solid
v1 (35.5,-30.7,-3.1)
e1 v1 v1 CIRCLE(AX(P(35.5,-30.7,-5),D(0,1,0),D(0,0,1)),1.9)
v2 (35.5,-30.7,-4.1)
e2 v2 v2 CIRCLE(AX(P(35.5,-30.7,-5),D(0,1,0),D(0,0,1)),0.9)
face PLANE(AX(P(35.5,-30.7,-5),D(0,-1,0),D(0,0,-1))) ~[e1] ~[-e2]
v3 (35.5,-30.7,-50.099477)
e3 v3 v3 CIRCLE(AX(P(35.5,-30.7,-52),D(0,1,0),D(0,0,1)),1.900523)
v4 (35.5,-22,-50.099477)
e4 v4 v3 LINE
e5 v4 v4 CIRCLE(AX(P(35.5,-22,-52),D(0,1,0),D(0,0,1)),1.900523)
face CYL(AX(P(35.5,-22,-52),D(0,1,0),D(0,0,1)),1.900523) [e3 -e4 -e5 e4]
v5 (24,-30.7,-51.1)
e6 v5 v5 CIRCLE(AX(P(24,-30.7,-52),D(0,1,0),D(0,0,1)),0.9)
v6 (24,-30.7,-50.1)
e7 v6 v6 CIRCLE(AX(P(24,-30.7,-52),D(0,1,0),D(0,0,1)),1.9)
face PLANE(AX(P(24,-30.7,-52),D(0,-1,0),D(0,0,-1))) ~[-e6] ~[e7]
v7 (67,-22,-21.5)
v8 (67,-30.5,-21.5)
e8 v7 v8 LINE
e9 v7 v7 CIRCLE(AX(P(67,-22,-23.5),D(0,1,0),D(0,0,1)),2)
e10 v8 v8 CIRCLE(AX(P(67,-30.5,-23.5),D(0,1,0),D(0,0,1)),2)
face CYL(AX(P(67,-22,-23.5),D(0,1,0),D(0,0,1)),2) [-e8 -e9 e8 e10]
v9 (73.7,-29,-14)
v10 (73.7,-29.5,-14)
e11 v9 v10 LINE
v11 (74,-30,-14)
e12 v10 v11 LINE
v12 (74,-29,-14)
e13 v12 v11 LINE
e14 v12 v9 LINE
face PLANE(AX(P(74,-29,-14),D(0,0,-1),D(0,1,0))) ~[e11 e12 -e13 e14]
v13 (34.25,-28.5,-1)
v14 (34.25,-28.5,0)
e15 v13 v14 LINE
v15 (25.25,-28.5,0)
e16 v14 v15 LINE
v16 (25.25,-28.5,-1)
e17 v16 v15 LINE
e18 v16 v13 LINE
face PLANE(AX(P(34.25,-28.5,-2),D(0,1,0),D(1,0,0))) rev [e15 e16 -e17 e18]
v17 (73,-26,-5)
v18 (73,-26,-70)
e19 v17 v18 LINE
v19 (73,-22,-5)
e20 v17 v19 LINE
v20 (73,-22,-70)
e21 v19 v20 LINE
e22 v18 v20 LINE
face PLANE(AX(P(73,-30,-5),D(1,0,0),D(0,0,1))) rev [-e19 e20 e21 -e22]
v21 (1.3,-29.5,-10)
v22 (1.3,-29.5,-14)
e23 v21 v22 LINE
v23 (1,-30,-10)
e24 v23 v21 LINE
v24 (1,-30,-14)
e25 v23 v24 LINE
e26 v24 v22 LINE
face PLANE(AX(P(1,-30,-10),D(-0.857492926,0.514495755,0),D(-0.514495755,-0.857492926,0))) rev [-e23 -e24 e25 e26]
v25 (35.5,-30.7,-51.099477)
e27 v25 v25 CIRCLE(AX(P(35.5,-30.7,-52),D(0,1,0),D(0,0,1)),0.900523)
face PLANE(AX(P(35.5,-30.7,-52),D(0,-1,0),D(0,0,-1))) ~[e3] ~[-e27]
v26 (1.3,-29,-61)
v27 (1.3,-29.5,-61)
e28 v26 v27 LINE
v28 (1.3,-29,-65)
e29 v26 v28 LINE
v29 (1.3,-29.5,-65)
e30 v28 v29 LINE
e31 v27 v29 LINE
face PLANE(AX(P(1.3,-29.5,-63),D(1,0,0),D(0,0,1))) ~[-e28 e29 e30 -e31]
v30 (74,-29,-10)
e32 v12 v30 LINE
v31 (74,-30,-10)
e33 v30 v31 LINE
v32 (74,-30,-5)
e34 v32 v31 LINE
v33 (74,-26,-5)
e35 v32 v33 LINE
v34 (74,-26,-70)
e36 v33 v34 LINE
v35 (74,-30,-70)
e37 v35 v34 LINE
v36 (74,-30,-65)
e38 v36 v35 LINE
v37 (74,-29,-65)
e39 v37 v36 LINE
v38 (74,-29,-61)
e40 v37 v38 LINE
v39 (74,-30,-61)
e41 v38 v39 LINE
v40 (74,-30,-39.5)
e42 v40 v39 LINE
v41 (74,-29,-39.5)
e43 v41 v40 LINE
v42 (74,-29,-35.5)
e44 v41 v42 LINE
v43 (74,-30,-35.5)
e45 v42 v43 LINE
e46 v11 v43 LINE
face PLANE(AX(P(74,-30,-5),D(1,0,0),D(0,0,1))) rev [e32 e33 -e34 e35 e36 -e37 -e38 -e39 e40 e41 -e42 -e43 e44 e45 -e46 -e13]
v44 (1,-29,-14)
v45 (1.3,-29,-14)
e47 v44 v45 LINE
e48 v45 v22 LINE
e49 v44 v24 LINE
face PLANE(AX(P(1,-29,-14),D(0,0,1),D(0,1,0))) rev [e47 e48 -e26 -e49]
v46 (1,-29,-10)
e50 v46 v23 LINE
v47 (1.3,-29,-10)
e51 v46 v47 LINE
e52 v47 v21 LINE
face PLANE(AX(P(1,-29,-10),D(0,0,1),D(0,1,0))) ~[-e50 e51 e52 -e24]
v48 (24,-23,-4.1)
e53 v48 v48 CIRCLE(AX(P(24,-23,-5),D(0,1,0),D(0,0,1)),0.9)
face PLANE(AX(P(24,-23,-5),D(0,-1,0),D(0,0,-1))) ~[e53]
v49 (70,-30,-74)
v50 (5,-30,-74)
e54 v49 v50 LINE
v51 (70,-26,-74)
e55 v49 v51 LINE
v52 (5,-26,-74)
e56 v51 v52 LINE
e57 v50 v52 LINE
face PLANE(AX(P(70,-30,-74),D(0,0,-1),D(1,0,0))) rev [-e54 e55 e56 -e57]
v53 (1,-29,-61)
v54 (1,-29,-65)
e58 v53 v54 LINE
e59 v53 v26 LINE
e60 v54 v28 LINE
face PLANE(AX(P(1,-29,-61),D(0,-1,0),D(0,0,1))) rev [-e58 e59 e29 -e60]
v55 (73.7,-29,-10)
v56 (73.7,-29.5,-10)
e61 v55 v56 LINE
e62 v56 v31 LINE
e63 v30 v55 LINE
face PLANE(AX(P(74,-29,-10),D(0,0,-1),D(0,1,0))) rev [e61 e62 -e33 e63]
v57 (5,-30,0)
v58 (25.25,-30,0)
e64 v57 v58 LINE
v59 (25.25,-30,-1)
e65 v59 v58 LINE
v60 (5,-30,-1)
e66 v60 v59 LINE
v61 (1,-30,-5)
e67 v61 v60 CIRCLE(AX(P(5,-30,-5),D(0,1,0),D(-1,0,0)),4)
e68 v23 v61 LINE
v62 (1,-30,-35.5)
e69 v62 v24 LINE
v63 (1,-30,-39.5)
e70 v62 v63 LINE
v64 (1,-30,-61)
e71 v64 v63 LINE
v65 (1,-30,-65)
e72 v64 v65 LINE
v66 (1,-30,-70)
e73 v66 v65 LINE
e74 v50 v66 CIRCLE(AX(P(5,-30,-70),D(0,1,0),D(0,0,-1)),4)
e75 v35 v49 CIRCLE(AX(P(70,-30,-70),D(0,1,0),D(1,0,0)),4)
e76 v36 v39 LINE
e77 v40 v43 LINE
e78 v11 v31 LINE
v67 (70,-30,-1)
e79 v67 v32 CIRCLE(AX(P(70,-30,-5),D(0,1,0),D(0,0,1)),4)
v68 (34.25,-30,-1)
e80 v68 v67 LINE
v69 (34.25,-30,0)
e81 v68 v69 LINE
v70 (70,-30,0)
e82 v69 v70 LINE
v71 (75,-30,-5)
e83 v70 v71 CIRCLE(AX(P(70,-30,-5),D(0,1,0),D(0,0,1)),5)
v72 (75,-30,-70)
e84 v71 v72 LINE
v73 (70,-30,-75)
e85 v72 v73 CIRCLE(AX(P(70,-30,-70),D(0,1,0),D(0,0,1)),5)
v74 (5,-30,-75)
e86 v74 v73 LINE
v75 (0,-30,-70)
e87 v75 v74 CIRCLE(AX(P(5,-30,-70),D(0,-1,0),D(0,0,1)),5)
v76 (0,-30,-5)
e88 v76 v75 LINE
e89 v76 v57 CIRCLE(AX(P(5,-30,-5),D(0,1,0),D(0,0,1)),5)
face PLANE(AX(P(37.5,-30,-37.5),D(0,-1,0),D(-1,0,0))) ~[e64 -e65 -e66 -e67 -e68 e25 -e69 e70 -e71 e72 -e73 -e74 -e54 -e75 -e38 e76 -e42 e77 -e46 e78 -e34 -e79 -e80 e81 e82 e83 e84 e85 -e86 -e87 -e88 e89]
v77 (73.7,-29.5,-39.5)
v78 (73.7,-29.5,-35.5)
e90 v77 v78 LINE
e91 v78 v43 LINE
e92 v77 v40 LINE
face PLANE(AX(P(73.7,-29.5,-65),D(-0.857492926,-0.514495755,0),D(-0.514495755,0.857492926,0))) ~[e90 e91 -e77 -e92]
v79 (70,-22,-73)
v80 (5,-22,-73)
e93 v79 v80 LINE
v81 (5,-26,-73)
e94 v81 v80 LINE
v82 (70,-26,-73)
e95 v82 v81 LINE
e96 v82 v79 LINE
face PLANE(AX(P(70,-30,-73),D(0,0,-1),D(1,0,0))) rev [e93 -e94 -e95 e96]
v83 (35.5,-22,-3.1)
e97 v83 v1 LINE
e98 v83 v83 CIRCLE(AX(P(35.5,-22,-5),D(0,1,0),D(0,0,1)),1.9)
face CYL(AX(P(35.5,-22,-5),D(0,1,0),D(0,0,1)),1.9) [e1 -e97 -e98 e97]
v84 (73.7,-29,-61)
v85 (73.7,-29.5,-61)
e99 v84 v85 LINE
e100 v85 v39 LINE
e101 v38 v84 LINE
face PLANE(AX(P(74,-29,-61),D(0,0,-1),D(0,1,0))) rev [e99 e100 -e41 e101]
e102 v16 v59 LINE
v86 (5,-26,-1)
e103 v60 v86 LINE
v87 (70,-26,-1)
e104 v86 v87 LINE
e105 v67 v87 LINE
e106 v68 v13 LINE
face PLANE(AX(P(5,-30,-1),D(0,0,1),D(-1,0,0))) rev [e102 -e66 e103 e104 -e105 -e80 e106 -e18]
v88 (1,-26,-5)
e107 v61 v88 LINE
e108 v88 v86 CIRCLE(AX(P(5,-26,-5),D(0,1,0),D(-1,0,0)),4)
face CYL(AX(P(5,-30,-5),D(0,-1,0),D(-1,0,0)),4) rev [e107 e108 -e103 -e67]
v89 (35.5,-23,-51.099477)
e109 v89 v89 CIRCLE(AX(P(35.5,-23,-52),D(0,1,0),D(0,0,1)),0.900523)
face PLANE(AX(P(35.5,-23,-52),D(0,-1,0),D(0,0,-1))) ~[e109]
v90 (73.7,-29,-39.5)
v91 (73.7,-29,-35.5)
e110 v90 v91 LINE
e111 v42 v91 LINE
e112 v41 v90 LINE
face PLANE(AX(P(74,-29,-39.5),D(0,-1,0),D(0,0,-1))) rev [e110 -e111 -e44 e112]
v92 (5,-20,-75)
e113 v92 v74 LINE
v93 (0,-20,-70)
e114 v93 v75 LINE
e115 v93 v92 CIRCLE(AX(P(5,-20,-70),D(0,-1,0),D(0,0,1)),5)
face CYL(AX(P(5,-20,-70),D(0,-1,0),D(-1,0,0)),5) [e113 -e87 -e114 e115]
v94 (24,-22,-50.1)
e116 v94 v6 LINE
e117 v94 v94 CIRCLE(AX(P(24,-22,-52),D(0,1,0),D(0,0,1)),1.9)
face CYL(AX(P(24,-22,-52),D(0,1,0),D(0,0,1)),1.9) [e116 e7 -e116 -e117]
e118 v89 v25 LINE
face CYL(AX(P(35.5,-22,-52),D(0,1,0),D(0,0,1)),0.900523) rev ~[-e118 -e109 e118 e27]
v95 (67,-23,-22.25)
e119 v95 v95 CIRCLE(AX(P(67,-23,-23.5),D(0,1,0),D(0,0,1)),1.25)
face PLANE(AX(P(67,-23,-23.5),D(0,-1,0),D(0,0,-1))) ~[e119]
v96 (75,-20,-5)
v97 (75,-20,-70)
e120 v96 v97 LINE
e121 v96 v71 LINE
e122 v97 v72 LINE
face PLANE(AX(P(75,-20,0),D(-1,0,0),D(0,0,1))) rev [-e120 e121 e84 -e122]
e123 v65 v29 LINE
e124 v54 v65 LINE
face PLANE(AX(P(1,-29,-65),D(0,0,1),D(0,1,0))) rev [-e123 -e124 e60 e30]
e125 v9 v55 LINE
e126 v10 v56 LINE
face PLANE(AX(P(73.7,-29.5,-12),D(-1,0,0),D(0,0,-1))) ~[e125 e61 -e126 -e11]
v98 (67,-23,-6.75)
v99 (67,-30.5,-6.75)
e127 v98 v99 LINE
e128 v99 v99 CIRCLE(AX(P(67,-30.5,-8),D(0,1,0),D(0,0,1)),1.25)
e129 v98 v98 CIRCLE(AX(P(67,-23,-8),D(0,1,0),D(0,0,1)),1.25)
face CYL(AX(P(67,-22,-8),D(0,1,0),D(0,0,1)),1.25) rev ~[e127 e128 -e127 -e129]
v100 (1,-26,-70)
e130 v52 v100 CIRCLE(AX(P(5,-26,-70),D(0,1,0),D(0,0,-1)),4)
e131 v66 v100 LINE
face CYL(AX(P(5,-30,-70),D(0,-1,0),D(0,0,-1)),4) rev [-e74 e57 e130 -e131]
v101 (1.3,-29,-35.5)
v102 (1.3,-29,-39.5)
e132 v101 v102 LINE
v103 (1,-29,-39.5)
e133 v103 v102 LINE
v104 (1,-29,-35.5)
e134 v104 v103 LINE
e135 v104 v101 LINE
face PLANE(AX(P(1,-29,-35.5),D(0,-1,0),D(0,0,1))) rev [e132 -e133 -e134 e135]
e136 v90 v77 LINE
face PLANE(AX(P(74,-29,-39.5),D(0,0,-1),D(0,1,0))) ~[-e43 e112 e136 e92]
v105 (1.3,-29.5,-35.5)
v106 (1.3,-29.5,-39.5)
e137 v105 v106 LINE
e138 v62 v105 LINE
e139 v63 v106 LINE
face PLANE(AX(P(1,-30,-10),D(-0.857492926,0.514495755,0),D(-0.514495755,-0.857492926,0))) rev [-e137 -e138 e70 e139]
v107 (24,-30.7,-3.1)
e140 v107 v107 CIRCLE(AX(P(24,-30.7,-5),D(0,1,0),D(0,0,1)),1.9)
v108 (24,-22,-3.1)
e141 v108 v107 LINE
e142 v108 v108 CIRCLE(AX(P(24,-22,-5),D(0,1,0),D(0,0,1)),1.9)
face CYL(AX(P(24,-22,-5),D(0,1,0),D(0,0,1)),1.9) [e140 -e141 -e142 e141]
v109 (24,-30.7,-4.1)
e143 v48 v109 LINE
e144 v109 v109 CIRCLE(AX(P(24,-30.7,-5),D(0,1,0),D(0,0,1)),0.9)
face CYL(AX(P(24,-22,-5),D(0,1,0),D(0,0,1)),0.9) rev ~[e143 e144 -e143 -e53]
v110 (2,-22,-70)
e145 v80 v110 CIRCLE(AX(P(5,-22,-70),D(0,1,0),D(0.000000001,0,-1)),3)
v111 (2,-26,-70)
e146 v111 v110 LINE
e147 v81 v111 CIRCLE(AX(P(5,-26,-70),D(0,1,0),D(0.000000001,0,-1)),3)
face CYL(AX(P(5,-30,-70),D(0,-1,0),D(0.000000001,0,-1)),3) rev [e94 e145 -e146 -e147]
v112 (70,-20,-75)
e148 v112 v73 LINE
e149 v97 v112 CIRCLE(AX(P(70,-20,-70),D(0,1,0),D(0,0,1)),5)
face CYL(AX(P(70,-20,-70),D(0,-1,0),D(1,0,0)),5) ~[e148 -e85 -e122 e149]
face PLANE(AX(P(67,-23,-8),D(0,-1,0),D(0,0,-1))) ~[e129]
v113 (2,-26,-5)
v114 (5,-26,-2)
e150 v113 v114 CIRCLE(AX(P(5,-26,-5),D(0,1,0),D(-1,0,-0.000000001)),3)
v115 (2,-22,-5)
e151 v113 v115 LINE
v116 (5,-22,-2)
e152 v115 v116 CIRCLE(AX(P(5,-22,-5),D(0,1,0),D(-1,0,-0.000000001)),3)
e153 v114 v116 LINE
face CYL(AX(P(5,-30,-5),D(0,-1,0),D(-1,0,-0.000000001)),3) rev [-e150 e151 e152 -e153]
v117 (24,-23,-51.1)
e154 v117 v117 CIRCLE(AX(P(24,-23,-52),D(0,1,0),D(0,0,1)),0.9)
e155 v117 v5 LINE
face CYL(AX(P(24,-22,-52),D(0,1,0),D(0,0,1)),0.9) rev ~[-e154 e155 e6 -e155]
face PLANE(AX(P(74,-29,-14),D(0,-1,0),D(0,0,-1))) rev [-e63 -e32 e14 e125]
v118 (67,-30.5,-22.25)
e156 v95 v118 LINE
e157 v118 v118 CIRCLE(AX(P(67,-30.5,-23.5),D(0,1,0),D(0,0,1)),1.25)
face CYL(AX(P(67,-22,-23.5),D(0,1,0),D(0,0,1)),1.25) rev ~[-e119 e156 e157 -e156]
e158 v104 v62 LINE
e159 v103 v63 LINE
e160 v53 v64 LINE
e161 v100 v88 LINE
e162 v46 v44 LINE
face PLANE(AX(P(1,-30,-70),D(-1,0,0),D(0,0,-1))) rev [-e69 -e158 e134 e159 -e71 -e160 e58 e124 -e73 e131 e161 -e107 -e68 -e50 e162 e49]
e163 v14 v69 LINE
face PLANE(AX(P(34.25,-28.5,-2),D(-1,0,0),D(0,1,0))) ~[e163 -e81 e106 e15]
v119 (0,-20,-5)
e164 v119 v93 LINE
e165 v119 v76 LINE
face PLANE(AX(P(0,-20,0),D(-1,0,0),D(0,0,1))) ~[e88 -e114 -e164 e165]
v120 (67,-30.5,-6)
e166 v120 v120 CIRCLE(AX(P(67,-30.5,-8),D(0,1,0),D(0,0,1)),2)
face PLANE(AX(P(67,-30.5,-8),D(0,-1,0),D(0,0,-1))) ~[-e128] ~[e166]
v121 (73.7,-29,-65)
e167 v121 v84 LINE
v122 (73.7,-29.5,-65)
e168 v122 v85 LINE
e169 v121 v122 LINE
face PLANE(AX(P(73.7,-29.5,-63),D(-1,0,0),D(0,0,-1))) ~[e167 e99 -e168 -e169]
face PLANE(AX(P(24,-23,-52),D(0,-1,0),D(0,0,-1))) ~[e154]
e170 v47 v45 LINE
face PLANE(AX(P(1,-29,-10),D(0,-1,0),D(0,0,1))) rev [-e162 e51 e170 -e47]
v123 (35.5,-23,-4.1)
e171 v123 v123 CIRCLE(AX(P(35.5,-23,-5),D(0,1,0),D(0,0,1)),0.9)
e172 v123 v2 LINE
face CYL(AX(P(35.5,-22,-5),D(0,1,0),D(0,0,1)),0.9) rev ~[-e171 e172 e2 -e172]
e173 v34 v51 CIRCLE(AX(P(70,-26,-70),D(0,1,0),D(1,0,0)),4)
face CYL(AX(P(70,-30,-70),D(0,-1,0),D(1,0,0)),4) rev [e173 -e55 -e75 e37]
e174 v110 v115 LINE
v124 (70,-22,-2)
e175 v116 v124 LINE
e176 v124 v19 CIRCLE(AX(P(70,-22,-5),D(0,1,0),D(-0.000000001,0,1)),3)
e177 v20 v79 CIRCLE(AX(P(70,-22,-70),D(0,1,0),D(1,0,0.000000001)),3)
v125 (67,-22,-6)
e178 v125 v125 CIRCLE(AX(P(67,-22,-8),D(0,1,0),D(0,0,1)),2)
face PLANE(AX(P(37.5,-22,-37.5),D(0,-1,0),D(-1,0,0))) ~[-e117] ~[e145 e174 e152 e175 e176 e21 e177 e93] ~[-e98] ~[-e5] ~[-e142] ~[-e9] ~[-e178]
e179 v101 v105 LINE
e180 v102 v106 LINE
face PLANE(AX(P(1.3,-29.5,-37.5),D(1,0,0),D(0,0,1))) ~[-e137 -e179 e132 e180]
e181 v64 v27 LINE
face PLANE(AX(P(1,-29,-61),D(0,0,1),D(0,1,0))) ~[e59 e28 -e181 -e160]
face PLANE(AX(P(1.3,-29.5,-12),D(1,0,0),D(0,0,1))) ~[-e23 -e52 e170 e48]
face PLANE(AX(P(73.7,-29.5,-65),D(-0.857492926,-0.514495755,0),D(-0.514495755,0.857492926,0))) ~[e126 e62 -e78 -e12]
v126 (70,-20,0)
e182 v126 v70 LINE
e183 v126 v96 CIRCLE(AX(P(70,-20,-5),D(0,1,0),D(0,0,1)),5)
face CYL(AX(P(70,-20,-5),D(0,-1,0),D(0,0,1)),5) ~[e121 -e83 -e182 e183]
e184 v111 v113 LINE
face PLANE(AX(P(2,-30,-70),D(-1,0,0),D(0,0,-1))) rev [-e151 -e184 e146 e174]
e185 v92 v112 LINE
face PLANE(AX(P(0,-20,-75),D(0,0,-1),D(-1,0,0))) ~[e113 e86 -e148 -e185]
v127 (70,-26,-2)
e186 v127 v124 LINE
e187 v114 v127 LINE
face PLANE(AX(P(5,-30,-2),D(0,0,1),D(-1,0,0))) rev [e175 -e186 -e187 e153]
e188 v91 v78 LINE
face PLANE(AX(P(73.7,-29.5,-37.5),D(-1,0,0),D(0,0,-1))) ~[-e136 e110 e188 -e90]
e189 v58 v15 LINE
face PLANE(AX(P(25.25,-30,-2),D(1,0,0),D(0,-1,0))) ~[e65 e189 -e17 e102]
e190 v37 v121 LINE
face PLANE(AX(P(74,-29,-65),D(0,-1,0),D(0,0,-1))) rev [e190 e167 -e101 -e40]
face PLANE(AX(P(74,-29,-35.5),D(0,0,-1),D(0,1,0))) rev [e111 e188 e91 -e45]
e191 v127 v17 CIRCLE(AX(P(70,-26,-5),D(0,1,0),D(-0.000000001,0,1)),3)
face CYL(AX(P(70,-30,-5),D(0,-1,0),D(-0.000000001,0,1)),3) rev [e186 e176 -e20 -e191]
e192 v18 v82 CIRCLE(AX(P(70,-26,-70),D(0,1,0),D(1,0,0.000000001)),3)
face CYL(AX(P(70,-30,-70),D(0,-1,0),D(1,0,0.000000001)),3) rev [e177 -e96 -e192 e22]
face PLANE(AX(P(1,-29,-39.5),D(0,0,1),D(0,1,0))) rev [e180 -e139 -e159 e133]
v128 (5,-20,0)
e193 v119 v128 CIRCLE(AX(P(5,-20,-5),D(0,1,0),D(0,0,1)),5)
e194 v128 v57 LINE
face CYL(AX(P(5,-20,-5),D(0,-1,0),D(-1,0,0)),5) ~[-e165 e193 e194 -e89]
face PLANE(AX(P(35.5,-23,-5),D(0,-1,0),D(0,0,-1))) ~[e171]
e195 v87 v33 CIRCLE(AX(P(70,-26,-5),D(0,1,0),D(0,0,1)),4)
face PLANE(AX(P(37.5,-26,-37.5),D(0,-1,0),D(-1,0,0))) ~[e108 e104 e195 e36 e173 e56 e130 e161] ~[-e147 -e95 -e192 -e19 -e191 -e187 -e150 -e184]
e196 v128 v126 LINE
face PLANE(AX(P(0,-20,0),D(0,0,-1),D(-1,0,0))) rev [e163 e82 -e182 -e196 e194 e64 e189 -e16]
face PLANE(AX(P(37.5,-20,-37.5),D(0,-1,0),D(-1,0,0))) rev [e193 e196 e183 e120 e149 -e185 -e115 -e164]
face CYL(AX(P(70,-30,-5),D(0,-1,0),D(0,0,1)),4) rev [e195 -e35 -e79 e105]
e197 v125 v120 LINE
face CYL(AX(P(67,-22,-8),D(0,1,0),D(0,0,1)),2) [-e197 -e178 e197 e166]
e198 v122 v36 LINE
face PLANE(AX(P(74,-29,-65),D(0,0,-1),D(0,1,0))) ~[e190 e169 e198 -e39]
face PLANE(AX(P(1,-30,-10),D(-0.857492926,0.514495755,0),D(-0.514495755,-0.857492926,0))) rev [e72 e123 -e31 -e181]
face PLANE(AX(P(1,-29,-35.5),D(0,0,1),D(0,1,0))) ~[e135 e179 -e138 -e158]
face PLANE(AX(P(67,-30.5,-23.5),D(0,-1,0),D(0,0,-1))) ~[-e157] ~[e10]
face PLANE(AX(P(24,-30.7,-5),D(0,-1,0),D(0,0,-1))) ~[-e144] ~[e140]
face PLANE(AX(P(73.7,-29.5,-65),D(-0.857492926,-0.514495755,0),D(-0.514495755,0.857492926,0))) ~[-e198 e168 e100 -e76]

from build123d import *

# Parameters (mm, degrees)
SZKIC1_W                    = 75
SZKIC1_H                    = 75
DODANIE_WYCI_GNI_CIE1_DEPTH = 10
ZAOKR_GLENIE1_R             = 5
WYTNIJ_WYCI_GNI_CIE1_DEPTH  = 8
WYTNIJ_WYCI_GNI_CIE2_DEPTH  = 4
SZKIC7_R                    = 1.9
SZKIC7_R_2                  = 0.9
SZKIC7_R_3                  = 1.900523095
SZKIC7_R_4                  = 0.900523095
DODANIE_WYCI_GNI_CIE2_DEPTH = 8.7
SZKIC9_R                    = 0.900523095
SZKIC9_R_2                  = 0.9
DODANIE_WYCI_GNI_CIE3_DEPTH = 1
SZKIC10_R                   = 1.25
DODANIE_WYCI_GNI_CIE4_DEPTH = 1
SZKIC11_R                   = 2
SZKIC11_R_2                 = 1.25
DODANIE_WYCI_GNI_CIE5_DEPTH = 8.5
WYTNIJ_WYCI_GNI_CIE20_DEPTH = 10
SZKIC22_W                   = 4
SZKIC22_H                   = 1
DODANIE_WYCI_GNI_CIE6_DEPTH = 0.3
SZKIC24_W                   = 4
SZKIC24_H                   = 1
DODANIE_WYCI_GNI_CIE7_DEPTH = 0.3
WYTNIJ_WYCI_GNI_CIE13_DEPTH = 55
WYTNIJ_WYCI_GNI_CIE14_DEPTH = 55


with BuildPart() as part:
    # Szkic1 → Dodanie-wyciągnięcie1 (new body)
    with BuildSketch(Plane(origin=(0, 0, 0), x_dir=(1, 0, 0), z_dir=(0, 1, 0))):
        with Locations((37.5, 37.5)):
            Rectangle(SZKIC1_W, SZKIC1_H)
    extrude(amount=DODANIE_WYCI_GNI_CIE1_DEPTH)

    # Zaokrąglenie1
    zaokr_glenie1_edges = [part.edges().sort_by_distance(p)[0] for p in [
        (0, 5, 0),
        (0, 5, -75),
        (75, 5, -75),
        (75, 5, 0),
    ]]
    fillet(zaokr_glenie1_edges, radius=ZAOKR_GLENIE1_R)

    # Szkic4 → Wytnij-wyciągnięcie1 (cut)
    with BuildSketch(Plane(origin=(0, 10, 0), x_dir=(1, 0, 0), z_dir=(0, 1, 0))):
        with BuildLine():
            Line((2, 70), (2, 5))
            ThreePointArc((2, 5), (2.878679656, 2.878679656), (5, 2))
            Line((5, 2), (70, 2))
            ThreePointArc((70, 2), (72.121320344, 2.878679656), (73, 5))
            Line((73, 5), (73, 70))
            ThreePointArc((73, 70), (72.121320344, 72.121320344), (70, 73))
            Line((70, 73), (5, 73))
            ThreePointArc((5, 73), (2.878679656, 72.121320344), (2, 70))
        make_face()
    extrude(amount=-WYTNIJ_WYCI_GNI_CIE1_DEPTH, mode=Mode.SUBTRACT)

    # Szkic6 → Wytnij-wyciągnięcie2 (cut)
    with BuildSketch(Plane(origin=(0, 10, 0), x_dir=(1, 0, 0), z_dir=(0, 1, 0))):
        with BuildLine():
            Line((1, 70), (1, 5))
            ThreePointArc((1, 5), (2.171572875, 2.171572875), (5, 1))
            Line((5, 1), (70, 1))
            ThreePointArc((70, 1), (72.828427125, 2.171572875), (74, 5))
            Line((74, 5), (74, 70))
            ThreePointArc((74, 70), (72.828427125, 72.828427125), (70, 74))
            Line((70, 74), (5, 74))
            ThreePointArc((5, 74), (2.171572875, 72.828427125), (1, 70))
        make_face()
        with BuildLine():
            Line((2, 70), (2, 5))
            ThreePointArc((2, 5), (2.878679656, 2.878679656), (5, 2))
            Line((5, 2), (70, 2))
            ThreePointArc((70, 2), (72.121320344, 2.878679656), (73, 5))
            Line((73, 5), (73, 70))
            ThreePointArc((73, 70), (72.121320344, 72.121320344), (70, 73))
            Line((70, 73), (5, 73))
            ThreePointArc((5, 73), (2.878679656, 72.121320344), (2, 70))
        make_face(mode=Mode.SUBTRACT)
    extrude(amount=-WYTNIJ_WYCI_GNI_CIE2_DEPTH, mode=Mode.SUBTRACT)

    # Szkic7 → Dodanie-wyciągnięcie2 (add)
    # profile 1 of 4: a face of its own
    with BuildSketch(Plane(origin=(0, 2, 0), x_dir=(1, 0, 0), z_dir=(0, 1, 0))):
        with Locations(Location((24, 52, 0), (0, 0, 270))):
            Circle(SZKIC7_R)
        with Locations(Location((24, 52, 0), (0, 0, 270))):
            Circle(SZKIC7_R_2, mode=Mode.SUBTRACT)
    # profile 2 of 4: a face of its own
    with BuildSketch(Plane(origin=(0, 2, 0), x_dir=(1, 0, 0), z_dir=(0, 1, 0))):
        with Locations(Location((35.5, 52, 0), (0, 0, 270))):
            Circle(SZKIC7_R_3)
        with Locations(Location((35.5, 52, 0), (0, 0, 270))):
            Circle(SZKIC7_R_4, mode=Mode.SUBTRACT)
    # profile 3 of 4: a face of its own
    with BuildSketch(Plane(origin=(0, 2, 0), x_dir=(1, 0, 0), z_dir=(0, 1, 0))):
        with Locations(Location((35.5, 5, 0), (0, 0, 270))):
            Circle(SZKIC7_R)
        with Locations(Location((35.5, 5, 0), (0, 0, 270))):
            Circle(SZKIC7_R_2, mode=Mode.SUBTRACT)
    # profile 4 of 4: a face of its own
    with BuildSketch(Plane(origin=(0, 2, 0), x_dir=(1, 0, 0), z_dir=(0, 1, 0))):
        with Locations(Location((24, 5, 0), (0, 0, 270))):
            Circle(SZKIC7_R)
        with Locations(Location((24, 5, 0), (0, 0, 270))):
            Circle(SZKIC7_R_2, mode=Mode.SUBTRACT)
    extrude(amount=DODANIE_WYCI_GNI_CIE2_DEPTH)

    # Szkic9 → Dodanie-wyciągnięcie3 (add)
    with BuildSketch(Plane(origin=(0, 2, 0), x_dir=(1, 0, 0), z_dir=(0, 1, 0))):
        with Locations(Location((35.5, 52, 0), (0, 0, 270))):
            Circle(SZKIC9_R)
        with Locations(Location((35.5, 5, 0), (0, 0, 270))):
            Circle(SZKIC9_R_2)
        with Locations(Location((24, 5, 0), (0, 0, 270))):
            Circle(SZKIC9_R_2)
        with Locations(Location((24, 52, 0), (0, 0, 270))):
            Circle(SZKIC9_R_2)
    extrude(amount=DODANIE_WYCI_GNI_CIE3_DEPTH)

    # Szkic10 → Dodanie-wyciągnięcie4 (add)
    with BuildSketch(Plane(origin=(0, 2, 0), x_dir=(1, 0, 0), z_dir=(0, 1, 0))):
        with Locations(Location((67, 23.5, 0), (0, 0, 270))):
            Circle(SZKIC10_R)
        with Locations(Location((67, 8, 0), (0, 0, 270))):
            Circle(SZKIC10_R)
    extrude(amount=DODANIE_WYCI_GNI_CIE4_DEPTH)

    # Szkic11 → Dodanie-wyciągnięcie5 (add)
    # profile 1 of 2: a face of its own
    with BuildSketch(Plane(origin=(0, 2, 0), x_dir=(1, 0, 0), z_dir=(0, 1, 0))):
        with Locations(Location((67, 23.5, 0), (0, 0, 270))):
            Circle(SZKIC11_R)
        with Locations(Location((67, 23.5, 0), (0, 0, 270))):
            Circle(SZKIC11_R_2, mode=Mode.SUBTRACT)
    # profile 2 of 2: a face of its own
    with BuildSketch(Plane(origin=(0, 2, 0), x_dir=(1, 0, 0), z_dir=(0, 1, 0))):
        with Locations(Location((67, 8, 0), (0, 0, 270))):
            Circle(SZKIC11_R)
        with Locations(Location((67, 8, 0), (0, 0, 270))):
            Circle(SZKIC11_R_2, mode=Mode.SUBTRACT)
    extrude(amount=DODANIE_WYCI_GNI_CIE5_DEPTH)

    # Szkic19 → Wytnij-wyciągnięcie20 (cut)
    with BuildSketch(Plane(origin=(0, 0, -2), x_dir=(-1, 0, 0), z_dir=(0, 0, -1))):
        Polygon((-34.25, 10), (-25.25, 10), (-25.25, 8.5), (-26.5, 8.5), (-32.5, 8.5), (-34.25, 8.5), align=None)
    extrude(amount=-WYTNIJ_WYCI_GNI_CIE20_DEPTH, mode=Mode.SUBTRACT)

    # Szkic22 → Dodanie-wyciągnięcie6 (add)
    with BuildSketch(Plane.ZY.offset(-74)):
        with Locations((-37.5, 9.5)):
            Rectangle(SZKIC22_W, SZKIC22_H)
        with Locations((-63, 9.5)):
            Rectangle(SZKIC22_W, SZKIC22_H)
        with Locations((-12, 9.5)):
            Rectangle(SZKIC22_W, SZKIC22_H)
    extrude(amount=DODANIE_WYCI_GNI_CIE6_DEPTH)

    # Szkic24 → Dodanie-wyciągnięcie7 (add)
    with BuildSketch(Plane(origin=(1, 0, 0), x_dir=(0, 0, -1), z_dir=(1, 0, 0))):
        with Locations((12, 9.5)):
            Rectangle(SZKIC24_W, SZKIC24_H)
        with Locations((63, 9.5)):
            Rectangle(SZKIC24_W, SZKIC24_H)
        with Locations((37.5, 9.5)):
            Rectangle(SZKIC24_W, SZKIC24_H)
    extrude(amount=DODANIE_WYCI_GNI_CIE7_DEPTH)

    # Szkic25 → Wytnij-wyciągnięcie13 (cut)
    with BuildSketch(Plane.XY.offset(-10)):
        Polygon((1, 10), (1.3, 9.5), (1.3, 10), align=None)
    extrude(amount=-WYTNIJ_WYCI_GNI_CIE13_DEPTH, mode=Mode.SUBTRACT)

    # Szkic26 → Wytnij-wyciągnięcie14 (cut)
    with BuildSketch(Plane(origin=(0, 0, -65), x_dir=(-1, 0, 0), z_dir=(0, 0, -1))):
        Polygon((-74, 10), (-73.7, 10), (-73.7, 9.5), align=None)
    extrude(amount=-WYTNIJ_WYCI_GNI_CIE14_DEPTH, mode=Mode.SUBTRACT)


with BuildPart() as body_2:
    # Lustro5: mirrored copy
    add(part.part.mirror(Plane.ZX.offset(-10)))


solid = body_2.part
